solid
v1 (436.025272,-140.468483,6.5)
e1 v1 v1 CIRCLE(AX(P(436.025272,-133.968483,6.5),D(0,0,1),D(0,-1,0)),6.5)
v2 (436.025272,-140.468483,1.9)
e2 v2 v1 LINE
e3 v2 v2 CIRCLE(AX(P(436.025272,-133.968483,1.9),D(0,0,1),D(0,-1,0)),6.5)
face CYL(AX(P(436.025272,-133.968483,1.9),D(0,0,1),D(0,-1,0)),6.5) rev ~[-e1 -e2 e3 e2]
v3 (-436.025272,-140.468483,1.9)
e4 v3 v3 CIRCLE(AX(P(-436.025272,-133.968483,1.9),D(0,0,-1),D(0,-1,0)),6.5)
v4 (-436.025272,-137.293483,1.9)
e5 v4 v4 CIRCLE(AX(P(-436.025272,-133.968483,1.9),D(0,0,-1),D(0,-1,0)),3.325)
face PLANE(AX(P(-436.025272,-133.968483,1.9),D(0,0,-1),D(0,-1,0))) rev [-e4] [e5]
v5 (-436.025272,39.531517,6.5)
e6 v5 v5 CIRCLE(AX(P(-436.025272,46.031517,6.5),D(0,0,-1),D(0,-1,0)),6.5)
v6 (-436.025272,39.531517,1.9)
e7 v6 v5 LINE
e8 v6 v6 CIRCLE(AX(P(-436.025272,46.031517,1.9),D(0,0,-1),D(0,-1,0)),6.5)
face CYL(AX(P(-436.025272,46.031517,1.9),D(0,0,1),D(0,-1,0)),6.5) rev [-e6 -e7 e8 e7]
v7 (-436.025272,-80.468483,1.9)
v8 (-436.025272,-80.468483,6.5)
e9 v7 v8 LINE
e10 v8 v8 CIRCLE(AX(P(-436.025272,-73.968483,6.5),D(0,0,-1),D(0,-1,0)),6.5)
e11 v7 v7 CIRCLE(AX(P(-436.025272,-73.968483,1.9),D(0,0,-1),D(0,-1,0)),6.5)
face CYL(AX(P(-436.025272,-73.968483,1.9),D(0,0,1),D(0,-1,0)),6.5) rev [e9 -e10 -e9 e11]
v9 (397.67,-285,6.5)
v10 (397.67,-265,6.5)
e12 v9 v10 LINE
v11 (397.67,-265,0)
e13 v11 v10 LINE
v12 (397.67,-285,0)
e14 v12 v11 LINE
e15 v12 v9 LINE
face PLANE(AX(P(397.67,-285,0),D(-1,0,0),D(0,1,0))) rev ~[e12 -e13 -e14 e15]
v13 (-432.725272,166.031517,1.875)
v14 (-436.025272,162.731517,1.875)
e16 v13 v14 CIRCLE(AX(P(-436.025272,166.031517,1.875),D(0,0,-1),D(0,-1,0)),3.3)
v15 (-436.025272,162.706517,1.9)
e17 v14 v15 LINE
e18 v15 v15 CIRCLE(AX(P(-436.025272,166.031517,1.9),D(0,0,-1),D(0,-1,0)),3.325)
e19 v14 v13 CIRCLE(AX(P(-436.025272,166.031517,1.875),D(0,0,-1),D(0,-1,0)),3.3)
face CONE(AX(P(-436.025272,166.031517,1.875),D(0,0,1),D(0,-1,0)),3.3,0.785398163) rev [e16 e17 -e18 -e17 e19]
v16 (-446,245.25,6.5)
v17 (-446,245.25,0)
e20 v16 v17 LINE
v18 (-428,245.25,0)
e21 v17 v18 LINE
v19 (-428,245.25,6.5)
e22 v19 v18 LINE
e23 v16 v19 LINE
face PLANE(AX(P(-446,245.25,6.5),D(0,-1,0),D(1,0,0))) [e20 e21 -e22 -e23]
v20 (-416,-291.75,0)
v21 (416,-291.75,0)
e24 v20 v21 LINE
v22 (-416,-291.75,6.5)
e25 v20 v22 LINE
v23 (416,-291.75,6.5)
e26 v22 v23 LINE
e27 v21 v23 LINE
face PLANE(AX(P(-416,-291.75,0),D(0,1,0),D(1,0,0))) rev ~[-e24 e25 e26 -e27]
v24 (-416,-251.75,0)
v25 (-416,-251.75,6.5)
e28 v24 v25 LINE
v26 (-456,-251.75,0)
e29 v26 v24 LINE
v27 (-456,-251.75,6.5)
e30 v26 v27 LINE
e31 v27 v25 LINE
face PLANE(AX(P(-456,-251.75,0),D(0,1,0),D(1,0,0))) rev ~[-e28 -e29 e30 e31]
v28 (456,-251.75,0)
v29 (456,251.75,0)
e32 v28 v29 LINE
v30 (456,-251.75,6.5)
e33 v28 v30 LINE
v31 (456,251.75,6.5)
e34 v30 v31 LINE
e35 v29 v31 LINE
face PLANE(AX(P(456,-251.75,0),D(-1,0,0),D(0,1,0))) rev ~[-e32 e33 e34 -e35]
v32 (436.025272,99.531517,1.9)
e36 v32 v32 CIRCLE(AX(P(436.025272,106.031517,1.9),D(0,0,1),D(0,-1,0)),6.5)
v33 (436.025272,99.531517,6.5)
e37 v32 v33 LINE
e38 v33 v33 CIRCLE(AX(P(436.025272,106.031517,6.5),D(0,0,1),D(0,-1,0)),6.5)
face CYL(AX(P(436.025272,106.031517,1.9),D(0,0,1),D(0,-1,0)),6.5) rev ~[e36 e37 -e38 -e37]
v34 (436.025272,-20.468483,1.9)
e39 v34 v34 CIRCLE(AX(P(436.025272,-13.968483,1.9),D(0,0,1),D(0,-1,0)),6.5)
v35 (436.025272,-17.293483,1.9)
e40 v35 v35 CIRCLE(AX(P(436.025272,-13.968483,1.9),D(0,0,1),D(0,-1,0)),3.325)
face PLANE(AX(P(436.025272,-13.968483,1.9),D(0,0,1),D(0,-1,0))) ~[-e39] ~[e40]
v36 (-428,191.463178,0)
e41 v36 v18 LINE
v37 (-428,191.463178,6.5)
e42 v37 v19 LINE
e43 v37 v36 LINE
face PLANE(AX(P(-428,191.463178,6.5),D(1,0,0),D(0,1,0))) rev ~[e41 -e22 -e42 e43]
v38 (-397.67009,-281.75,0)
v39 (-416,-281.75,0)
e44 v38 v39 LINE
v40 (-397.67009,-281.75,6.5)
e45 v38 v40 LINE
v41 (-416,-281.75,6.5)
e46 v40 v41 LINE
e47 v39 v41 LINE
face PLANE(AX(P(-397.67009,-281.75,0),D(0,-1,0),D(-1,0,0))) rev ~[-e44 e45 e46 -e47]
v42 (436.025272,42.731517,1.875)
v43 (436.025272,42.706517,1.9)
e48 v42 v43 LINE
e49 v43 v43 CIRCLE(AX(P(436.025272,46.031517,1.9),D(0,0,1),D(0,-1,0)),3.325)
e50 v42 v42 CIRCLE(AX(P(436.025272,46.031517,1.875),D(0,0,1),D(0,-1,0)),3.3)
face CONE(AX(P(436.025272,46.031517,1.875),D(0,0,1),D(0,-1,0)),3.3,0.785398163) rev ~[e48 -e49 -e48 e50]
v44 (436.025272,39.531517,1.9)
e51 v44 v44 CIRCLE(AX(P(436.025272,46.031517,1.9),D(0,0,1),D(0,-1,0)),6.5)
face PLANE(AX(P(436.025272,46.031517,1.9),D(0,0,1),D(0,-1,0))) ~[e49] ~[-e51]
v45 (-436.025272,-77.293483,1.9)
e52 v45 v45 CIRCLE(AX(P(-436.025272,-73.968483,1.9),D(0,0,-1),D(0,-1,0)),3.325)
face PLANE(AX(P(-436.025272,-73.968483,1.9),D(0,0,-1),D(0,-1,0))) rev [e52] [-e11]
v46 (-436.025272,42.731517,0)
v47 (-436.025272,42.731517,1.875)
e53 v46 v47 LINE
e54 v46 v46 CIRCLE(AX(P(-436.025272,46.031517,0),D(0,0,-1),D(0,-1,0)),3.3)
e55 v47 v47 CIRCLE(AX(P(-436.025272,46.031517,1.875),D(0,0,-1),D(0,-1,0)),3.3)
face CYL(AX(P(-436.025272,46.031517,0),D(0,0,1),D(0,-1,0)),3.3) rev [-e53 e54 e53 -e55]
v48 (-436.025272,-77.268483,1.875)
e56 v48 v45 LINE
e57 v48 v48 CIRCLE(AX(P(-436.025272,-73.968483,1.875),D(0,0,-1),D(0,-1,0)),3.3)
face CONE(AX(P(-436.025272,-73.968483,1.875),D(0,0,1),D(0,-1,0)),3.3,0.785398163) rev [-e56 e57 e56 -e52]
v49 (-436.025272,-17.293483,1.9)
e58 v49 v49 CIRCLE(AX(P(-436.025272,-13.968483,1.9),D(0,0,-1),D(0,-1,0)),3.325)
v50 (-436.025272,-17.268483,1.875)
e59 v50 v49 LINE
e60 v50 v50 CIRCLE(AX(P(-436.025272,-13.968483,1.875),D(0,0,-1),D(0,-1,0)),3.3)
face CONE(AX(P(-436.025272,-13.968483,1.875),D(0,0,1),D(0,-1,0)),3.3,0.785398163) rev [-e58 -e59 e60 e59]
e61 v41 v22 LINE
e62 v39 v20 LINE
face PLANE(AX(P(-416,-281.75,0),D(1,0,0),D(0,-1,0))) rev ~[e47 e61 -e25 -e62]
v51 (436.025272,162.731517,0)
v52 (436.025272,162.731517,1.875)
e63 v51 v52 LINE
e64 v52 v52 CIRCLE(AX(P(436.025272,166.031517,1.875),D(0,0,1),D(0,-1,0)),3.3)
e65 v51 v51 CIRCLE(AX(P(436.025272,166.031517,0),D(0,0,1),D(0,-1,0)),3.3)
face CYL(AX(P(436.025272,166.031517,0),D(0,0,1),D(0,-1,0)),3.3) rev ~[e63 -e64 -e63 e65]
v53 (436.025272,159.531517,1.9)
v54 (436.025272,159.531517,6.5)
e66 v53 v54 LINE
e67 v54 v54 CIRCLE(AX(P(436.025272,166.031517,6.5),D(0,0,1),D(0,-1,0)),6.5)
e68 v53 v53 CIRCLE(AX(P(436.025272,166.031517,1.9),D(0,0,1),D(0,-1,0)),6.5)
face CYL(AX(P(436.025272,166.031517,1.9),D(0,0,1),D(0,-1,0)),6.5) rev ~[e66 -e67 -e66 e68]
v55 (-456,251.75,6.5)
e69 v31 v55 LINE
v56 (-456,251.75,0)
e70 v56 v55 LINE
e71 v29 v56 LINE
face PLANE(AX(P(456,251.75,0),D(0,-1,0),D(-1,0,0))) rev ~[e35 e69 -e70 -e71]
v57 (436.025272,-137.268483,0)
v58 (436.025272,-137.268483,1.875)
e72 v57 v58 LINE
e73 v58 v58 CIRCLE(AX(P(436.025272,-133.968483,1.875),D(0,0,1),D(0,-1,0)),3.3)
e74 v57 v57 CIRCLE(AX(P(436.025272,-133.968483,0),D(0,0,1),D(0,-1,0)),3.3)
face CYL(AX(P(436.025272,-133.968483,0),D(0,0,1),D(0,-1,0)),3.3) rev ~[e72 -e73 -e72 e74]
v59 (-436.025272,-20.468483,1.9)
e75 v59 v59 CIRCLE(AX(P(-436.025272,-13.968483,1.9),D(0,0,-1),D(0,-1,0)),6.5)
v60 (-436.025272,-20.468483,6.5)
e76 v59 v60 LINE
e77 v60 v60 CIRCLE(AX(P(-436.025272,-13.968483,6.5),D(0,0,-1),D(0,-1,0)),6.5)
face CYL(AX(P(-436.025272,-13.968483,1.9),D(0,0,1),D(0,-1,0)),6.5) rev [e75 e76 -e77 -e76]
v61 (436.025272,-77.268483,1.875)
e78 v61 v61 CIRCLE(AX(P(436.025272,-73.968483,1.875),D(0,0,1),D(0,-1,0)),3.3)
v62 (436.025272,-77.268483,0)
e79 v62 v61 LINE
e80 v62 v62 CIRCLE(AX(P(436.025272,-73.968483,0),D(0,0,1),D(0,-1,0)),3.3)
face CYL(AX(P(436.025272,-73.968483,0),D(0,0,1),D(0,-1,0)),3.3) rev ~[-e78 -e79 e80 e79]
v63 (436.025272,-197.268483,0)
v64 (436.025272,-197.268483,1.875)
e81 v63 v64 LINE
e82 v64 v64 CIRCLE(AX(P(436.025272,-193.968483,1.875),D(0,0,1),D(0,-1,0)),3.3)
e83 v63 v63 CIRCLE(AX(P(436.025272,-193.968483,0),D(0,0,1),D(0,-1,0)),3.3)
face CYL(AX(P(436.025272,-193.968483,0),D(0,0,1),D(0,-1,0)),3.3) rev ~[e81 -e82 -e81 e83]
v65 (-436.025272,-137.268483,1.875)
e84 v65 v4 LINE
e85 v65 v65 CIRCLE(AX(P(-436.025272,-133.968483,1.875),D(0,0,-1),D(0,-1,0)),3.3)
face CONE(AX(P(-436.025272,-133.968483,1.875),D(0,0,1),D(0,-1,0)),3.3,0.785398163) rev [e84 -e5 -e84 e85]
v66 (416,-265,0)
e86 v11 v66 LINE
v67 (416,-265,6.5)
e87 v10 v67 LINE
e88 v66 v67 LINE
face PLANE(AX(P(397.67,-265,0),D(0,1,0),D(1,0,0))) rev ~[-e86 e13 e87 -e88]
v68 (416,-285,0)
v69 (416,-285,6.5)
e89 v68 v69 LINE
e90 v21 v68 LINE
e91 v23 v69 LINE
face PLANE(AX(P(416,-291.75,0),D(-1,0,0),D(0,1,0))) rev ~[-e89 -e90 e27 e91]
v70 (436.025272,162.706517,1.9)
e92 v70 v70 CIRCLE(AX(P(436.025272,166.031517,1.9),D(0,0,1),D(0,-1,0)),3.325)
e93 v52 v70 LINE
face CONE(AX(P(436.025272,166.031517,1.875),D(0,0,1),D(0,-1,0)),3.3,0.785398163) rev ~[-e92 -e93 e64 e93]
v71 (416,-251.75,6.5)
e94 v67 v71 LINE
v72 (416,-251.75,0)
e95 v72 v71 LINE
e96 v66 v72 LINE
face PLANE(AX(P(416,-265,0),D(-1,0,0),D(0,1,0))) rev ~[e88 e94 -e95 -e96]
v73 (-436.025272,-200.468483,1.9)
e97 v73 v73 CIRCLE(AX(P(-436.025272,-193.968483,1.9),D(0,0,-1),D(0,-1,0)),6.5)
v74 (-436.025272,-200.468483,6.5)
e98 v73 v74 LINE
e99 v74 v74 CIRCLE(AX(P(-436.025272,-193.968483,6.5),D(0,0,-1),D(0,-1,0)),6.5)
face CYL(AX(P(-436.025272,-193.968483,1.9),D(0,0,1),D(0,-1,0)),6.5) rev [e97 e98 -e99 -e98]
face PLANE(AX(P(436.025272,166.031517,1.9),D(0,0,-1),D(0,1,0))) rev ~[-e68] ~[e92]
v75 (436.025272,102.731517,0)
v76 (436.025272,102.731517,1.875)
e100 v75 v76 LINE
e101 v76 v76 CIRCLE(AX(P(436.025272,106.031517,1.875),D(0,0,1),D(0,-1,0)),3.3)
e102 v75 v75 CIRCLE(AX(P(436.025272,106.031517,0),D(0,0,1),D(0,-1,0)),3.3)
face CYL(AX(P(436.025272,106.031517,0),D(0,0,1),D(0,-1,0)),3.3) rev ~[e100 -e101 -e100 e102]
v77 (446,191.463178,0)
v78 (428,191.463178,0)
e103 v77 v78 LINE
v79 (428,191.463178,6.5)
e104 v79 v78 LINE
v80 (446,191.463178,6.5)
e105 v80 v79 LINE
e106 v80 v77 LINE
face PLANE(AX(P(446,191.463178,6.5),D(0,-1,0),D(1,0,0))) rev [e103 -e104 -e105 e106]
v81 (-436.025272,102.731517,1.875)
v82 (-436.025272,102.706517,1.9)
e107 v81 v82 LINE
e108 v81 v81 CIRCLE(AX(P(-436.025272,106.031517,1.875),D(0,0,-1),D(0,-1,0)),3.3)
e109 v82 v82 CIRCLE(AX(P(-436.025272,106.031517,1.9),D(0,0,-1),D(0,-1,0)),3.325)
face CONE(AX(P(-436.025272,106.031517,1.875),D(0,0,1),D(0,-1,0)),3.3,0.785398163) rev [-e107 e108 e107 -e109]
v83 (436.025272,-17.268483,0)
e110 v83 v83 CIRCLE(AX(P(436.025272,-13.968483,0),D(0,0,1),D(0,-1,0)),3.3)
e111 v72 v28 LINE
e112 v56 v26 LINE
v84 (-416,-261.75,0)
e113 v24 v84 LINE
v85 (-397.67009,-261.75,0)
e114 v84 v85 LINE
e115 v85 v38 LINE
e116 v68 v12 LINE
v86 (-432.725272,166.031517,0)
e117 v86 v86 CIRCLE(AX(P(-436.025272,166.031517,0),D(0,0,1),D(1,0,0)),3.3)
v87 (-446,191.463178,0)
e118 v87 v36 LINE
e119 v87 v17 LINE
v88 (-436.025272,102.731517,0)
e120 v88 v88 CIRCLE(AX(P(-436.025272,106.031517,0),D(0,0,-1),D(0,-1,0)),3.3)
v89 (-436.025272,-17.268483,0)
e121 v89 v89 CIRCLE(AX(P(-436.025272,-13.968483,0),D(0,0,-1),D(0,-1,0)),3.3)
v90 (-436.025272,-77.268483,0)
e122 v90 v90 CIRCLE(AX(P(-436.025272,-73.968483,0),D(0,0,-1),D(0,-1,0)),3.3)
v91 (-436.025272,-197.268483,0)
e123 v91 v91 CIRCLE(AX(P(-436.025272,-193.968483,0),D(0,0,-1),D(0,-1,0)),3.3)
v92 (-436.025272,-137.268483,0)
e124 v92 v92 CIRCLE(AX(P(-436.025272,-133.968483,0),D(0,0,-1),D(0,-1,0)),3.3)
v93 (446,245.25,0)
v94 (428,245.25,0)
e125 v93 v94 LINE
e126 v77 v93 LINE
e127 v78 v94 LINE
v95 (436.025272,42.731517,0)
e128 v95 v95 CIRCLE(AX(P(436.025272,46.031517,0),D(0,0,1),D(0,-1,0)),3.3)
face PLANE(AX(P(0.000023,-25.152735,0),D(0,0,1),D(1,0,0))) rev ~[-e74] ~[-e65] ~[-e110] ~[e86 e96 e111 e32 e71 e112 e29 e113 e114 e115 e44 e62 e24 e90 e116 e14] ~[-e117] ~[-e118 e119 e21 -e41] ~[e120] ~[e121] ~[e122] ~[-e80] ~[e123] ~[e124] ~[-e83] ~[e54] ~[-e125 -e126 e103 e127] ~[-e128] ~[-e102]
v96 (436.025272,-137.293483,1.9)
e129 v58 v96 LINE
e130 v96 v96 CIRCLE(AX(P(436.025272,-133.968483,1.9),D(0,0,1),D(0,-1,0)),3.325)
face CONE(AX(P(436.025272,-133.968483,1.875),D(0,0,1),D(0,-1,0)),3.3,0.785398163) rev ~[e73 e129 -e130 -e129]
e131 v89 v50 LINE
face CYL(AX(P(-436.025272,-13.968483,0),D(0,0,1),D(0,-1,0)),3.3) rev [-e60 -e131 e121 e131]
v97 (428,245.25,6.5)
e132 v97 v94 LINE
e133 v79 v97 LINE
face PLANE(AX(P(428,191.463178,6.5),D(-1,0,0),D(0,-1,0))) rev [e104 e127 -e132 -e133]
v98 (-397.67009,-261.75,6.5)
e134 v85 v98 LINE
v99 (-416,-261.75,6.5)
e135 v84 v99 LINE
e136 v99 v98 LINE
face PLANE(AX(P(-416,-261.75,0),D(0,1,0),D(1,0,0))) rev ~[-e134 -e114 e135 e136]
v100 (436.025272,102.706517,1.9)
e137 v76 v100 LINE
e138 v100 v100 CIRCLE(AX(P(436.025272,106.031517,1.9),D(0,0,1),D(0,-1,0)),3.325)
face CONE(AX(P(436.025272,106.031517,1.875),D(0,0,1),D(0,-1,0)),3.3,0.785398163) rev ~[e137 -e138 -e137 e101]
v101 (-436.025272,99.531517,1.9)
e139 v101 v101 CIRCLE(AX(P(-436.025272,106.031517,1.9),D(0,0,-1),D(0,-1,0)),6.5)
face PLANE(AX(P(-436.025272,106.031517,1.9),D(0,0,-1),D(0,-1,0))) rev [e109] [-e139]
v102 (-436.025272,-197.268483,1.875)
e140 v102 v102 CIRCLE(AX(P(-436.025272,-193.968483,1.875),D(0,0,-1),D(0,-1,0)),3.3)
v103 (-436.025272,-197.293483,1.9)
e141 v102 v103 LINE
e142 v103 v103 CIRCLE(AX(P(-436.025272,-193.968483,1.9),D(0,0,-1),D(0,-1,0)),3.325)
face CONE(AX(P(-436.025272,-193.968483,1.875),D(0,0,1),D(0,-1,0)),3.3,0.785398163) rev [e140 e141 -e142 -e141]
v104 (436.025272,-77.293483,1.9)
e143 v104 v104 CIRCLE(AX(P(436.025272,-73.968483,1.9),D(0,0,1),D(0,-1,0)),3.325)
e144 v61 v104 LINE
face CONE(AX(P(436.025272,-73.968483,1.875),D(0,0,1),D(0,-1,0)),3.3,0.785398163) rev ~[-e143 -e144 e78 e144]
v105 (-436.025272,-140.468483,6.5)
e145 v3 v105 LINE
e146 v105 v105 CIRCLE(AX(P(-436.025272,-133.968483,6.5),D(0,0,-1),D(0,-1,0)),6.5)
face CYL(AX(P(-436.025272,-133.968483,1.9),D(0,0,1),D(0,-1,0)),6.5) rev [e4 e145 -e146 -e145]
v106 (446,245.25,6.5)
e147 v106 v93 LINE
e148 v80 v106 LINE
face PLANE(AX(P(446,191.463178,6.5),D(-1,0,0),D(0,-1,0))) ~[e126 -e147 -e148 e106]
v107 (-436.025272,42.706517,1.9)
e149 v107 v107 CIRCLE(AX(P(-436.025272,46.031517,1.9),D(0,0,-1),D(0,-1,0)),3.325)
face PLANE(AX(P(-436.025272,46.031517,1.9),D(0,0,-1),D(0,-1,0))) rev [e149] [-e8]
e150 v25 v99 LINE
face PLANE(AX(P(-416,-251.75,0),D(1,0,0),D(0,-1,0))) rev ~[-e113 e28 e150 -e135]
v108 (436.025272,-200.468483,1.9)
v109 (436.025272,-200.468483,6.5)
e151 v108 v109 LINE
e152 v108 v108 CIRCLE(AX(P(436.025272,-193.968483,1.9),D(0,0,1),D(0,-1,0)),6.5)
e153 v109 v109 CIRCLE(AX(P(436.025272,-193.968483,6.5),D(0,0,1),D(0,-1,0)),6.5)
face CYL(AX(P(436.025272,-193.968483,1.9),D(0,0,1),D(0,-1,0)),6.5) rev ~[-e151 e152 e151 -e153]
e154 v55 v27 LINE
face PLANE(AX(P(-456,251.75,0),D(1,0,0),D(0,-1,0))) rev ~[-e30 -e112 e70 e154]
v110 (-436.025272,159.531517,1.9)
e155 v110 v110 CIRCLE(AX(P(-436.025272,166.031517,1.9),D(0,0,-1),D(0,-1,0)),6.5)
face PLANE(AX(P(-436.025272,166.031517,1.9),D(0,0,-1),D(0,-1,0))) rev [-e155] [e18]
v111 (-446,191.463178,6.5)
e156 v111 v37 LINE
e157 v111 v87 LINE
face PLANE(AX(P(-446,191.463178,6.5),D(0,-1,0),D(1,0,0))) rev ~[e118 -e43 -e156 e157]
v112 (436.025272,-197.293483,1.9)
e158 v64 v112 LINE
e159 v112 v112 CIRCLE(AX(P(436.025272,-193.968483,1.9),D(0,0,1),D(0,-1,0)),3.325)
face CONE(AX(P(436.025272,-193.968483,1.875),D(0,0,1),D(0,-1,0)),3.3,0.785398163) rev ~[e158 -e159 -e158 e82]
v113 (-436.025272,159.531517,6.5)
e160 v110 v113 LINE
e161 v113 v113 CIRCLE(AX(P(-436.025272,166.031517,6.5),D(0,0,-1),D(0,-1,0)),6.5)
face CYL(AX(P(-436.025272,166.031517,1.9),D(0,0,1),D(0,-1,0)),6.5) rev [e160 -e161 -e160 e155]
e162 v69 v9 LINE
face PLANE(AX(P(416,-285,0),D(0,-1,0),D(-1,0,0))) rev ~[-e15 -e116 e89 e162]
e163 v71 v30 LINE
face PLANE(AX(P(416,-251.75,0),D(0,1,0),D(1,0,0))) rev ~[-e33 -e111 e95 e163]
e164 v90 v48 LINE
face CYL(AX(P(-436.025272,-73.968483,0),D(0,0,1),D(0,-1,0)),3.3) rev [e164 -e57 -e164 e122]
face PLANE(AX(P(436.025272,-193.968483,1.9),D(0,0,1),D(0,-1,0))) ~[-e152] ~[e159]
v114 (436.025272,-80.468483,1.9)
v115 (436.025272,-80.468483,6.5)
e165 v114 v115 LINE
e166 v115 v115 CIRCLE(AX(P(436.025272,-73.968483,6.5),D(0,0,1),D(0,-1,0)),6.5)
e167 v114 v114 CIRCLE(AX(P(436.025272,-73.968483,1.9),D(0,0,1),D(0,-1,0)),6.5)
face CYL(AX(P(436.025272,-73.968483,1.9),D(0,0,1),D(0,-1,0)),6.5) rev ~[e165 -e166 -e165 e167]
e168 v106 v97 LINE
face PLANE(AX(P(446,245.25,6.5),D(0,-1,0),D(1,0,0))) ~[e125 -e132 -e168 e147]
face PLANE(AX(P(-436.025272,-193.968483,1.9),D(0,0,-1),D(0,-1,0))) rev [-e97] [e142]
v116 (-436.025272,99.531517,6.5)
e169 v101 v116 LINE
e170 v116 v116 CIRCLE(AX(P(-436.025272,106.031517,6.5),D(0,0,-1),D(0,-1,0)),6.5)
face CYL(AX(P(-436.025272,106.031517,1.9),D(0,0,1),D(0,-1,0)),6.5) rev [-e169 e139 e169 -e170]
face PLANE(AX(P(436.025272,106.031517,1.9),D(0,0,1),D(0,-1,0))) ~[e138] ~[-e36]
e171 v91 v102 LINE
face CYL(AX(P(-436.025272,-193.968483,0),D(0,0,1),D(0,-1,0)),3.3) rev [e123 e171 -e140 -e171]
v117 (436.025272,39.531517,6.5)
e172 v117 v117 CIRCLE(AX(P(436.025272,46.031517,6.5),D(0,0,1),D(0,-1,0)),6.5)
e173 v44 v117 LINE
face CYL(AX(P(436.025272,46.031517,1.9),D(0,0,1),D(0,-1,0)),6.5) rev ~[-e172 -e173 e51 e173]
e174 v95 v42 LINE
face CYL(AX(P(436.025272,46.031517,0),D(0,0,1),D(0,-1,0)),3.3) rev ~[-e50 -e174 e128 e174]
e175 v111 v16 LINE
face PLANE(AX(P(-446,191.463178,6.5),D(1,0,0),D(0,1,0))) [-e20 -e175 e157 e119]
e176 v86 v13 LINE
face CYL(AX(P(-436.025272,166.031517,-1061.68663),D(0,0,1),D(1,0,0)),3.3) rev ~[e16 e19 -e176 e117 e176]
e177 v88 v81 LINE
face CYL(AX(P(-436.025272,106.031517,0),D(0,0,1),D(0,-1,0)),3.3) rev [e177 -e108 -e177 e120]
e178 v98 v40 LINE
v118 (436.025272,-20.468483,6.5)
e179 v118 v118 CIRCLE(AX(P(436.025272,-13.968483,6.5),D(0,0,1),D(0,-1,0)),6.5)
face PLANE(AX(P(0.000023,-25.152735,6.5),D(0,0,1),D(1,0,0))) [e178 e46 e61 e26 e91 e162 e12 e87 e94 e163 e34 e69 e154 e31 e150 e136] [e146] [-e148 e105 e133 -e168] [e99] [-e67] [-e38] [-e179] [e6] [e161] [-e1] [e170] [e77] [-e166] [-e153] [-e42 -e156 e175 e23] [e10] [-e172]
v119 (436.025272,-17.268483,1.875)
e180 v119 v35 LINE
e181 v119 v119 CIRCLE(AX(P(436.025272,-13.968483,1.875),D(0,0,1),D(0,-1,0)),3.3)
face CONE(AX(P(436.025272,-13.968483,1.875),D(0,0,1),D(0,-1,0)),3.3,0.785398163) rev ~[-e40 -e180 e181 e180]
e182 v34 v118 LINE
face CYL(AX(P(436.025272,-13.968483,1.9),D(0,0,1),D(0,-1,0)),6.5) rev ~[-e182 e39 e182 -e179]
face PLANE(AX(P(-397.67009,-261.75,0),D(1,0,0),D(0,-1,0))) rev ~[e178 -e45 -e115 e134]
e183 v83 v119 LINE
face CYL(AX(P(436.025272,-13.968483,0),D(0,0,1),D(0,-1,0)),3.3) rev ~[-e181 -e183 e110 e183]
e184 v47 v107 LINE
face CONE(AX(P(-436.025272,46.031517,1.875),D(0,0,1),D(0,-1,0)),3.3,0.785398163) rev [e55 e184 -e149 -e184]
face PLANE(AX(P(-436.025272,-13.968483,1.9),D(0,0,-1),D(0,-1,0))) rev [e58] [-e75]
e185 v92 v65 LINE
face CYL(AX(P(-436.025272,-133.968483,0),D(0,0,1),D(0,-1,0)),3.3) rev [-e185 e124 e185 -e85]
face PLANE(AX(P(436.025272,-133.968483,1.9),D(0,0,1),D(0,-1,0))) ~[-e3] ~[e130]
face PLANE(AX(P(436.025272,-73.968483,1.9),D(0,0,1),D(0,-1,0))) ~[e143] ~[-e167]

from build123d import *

# Parameters (mm, degrees)
BOSS_EXTRU_1_DEPTH         = 6.5
ESQUISSE2_W                = 18
ESQUISSE2_H                = 53.786822236
ENL_V_MAT_EXTRU_1_DEPTH    = 6.5
D_GAGEMENT_M61_D           = 6.6
R_P_TITION_LIN_AIRE1_COUNT = 7
R_P_TITION_LIN_AIRE1_PITCH = 60


with BuildPart() as part:
    # Esquisse1 → Boss.-Extru.1 (new body)
    with BuildSketch(Plane.XY):
        Polygon((416, -265.000000009), (416, -251.75), (456, -251.75), (456, 251.75), (-456, 251.75), (-456, -251.75), (-416, -251.75), (-416, -261.75000001), (-397.670089581, -261.75000001), (-397.670089581, -281.75000001), (-416, -281.75000001), (-416, -291.75), (416, -291.75), (416, -288.5), (416, -285.000000009), (397.67, -285.000000009), (397.67, -265.000000009), align=None)
    extrude(amount=BOSS_EXTRU_1_DEPTH)

    # Esquisse2 → Enlèv. mat.-Extru.1 (cut)
    with BuildSketch(Plane.XY.offset(6.5)):
        with Locations((-436.999999996, 218.356588882)):
            Rectangle(ESQUISSE2_W, ESQUISSE2_H)
    enl_v_mat_extru_1 = extrude(amount=-ENL_V_MAT_EXTRU_1_DEPTH, mode=Mode.SUBTRACT)

    # Symétrie1: Enlèv. mat.-Extru.1 across plane
    add(enl_v_mat_extru_1.mirror(Plane(origin=(0, 0, 0), x_dir=(0, 0, 1), z_dir=(1, 0, 0))), mode=Mode.SUBTRACT)

    # Dégagement M61 (through all)
    with Locations(Plane(origin=(0, 0, 0), x_dir=(-1, 0, 0), z_dir=(0, 0, -1))):
        with Locations((436.025271582, 166.031516539)):
            Hole(D_GAGEMENT_M61_D / 2)

    # Esquisse5 → Chambrage pour vis à tête ronde bombée M61 (revolve, cut)
    with BuildSketch(Plane(origin=(-436.025271582, 166.031516539, 6.5), x_dir=(0, -1, 0), z_dir=(1, 0, 0))):
        Polygon((0, 0), (0, 6.5), (3.3, 6.5), (3.3, 4.625), (3.325, 4.6), (6.5, 4.6), (6.5, 0), align=None)
    chambrage_pour_vis_t_te_ronde_bomb_e_m = revolve(axis=Axis((-436.025271582, 166.031516539, 12.85), (0, 0, -1)), mode=Mode.SUBTRACT)

    # Répétition linéaire1: Chambrage pour vis à tête ronde bombée M61 ×7
    with Locations(*[(0, -i * R_P_TITION_LIN_AIRE1_PITCH, 0) for i in range(1, R_P_TITION_LIN_AIRE1_COUNT)]):
        add(chambrage_pour_vis_t_te_ronde_bomb_e_m, mode=Mode.SUBTRACT)

    # Symétrie2 copy 1 sketch → Symétrie2 copy 1 (revolve, cut)
    with BuildSketch(Plane(origin=(436.025271582, 106.031516539, 6.5), x_dir=(0, -1, 0), z_dir=(-1, 0, 0))):
        Polygon((0, 0), (0, -6.5), (3.3, -6.5), (3.3, -4.625), (3.325, -4.6), (6.5, -4.6), (6.5, 0), align=None)
    revolve(axis=Axis((436.025271582, 106.031516539, 12.85), (0, 0, 1)), mode=Mode.SUBTRACT)

    # Symétrie2 copy 2 sketch → Symétrie2 copy 2 (revolve, cut)
    with BuildSketch(Plane(origin=(436.025271582, 46.031516539, 6.5), x_dir=(0, -1, 0), z_dir=(-1, 0, 0))):
        Polygon((0, 0), (0, -6.5), (3.3, -6.5), (3.3, -4.625), (3.325, -4.6), (6.5, -4.6), (6.5, 0), align=None)
    revolve(axis=Axis((436.025271582, 46.031516539, 12.85), (0, 0, 1)), mode=Mode.SUBTRACT)

    # Symétrie2 copy 3 sketch → Symétrie2 copy 3 (revolve, cut)
    with BuildSketch(Plane(origin=(436.025271582, -13.968483461, 6.5), x_dir=(0, -1, 0), z_dir=(-1, 0, 0))):
        Polygon((0, 0), (0, -6.5), (3.3, -6.5), (3.3, -4.625), (3.325, -4.6), (6.5, -4.6), (6.5, 0), align=None)
    revolve(axis=Axis((436.025271582, -13.968483461, 12.85), (0, 0, 1)), mode=Mode.SUBTRACT)

    # Symétrie2 copy 4 sketch → Symétrie2 copy 4 (revolve, cut)
    with BuildSketch(Plane(origin=(436.025271582, -73.968483461, 6.5), x_dir=(0, -1, 0), z_dir=(-1, 0, 0))):
        Polygon((0, 0), (0, -6.5), (3.3, -6.5), (3.3, -4.625), (3.325, -4.6), (6.5, -4.6), (6.5, 0), align=None)
    revolve(axis=Axis((436.025271582, -73.968483461, 12.85), (0, 0, 1)), mode=Mode.SUBTRACT)

    # Symétrie2 copy 5 sketch → Symétrie2 copy 5 (revolve, cut)
    with BuildSketch(Plane(origin=(436.025271582, -133.968483461, 6.5), x_dir=(0, -1, 0), z_dir=(-1, 0, 0))):
        Polygon((0, 0), (0, -6.5), (3.3, -6.5), (3.3, -4.625), (3.325, -4.6), (6.5, -4.6), (6.5, 0), align=None)
    revolve(axis=Axis((436.025271582, -133.968483461, 12.85), (0, 0, 1)), mode=Mode.SUBTRACT)

    # Symétrie2 copy 6 sketch → Symétrie2 copy 6 (revolve, cut)
    with BuildSketch(Plane(origin=(436.025271582, -193.968483461, 6.5), x_dir=(0, -1, 0), z_dir=(-1, 0, 0))):
        Polygon((0, 0), (0, -6.5), (3.3, -6.5), (3.3, -4.625), (3.325, -4.6), (6.5, -4.6), (6.5, 0), align=None)
    revolve(axis=Axis((436.025271582, -193.968483461, 12.85), (0, 0, 1)), mode=Mode.SUBTRACT)

    # Symétrie2 copy 7 sketch → Symétrie2 copy 7 (revolve, cut)
    with BuildSketch(Plane(origin=(436.025271582, 166.031516539, 6.5), x_dir=(0, -1, 0), z_dir=(-1, 0, 0))):
        Polygon((0, 0), (0, -6.5), (3.3, -6.5), (3.3, -4.625), (3.325, -4.6), (6.5, -4.6), (6.5, 0), align=None)
    revolve(axis=Axis((436.025271582, 166.031516539, 12.85), (0, 0, 1)), mode=Mode.SUBTRACT)


solid = part.part
